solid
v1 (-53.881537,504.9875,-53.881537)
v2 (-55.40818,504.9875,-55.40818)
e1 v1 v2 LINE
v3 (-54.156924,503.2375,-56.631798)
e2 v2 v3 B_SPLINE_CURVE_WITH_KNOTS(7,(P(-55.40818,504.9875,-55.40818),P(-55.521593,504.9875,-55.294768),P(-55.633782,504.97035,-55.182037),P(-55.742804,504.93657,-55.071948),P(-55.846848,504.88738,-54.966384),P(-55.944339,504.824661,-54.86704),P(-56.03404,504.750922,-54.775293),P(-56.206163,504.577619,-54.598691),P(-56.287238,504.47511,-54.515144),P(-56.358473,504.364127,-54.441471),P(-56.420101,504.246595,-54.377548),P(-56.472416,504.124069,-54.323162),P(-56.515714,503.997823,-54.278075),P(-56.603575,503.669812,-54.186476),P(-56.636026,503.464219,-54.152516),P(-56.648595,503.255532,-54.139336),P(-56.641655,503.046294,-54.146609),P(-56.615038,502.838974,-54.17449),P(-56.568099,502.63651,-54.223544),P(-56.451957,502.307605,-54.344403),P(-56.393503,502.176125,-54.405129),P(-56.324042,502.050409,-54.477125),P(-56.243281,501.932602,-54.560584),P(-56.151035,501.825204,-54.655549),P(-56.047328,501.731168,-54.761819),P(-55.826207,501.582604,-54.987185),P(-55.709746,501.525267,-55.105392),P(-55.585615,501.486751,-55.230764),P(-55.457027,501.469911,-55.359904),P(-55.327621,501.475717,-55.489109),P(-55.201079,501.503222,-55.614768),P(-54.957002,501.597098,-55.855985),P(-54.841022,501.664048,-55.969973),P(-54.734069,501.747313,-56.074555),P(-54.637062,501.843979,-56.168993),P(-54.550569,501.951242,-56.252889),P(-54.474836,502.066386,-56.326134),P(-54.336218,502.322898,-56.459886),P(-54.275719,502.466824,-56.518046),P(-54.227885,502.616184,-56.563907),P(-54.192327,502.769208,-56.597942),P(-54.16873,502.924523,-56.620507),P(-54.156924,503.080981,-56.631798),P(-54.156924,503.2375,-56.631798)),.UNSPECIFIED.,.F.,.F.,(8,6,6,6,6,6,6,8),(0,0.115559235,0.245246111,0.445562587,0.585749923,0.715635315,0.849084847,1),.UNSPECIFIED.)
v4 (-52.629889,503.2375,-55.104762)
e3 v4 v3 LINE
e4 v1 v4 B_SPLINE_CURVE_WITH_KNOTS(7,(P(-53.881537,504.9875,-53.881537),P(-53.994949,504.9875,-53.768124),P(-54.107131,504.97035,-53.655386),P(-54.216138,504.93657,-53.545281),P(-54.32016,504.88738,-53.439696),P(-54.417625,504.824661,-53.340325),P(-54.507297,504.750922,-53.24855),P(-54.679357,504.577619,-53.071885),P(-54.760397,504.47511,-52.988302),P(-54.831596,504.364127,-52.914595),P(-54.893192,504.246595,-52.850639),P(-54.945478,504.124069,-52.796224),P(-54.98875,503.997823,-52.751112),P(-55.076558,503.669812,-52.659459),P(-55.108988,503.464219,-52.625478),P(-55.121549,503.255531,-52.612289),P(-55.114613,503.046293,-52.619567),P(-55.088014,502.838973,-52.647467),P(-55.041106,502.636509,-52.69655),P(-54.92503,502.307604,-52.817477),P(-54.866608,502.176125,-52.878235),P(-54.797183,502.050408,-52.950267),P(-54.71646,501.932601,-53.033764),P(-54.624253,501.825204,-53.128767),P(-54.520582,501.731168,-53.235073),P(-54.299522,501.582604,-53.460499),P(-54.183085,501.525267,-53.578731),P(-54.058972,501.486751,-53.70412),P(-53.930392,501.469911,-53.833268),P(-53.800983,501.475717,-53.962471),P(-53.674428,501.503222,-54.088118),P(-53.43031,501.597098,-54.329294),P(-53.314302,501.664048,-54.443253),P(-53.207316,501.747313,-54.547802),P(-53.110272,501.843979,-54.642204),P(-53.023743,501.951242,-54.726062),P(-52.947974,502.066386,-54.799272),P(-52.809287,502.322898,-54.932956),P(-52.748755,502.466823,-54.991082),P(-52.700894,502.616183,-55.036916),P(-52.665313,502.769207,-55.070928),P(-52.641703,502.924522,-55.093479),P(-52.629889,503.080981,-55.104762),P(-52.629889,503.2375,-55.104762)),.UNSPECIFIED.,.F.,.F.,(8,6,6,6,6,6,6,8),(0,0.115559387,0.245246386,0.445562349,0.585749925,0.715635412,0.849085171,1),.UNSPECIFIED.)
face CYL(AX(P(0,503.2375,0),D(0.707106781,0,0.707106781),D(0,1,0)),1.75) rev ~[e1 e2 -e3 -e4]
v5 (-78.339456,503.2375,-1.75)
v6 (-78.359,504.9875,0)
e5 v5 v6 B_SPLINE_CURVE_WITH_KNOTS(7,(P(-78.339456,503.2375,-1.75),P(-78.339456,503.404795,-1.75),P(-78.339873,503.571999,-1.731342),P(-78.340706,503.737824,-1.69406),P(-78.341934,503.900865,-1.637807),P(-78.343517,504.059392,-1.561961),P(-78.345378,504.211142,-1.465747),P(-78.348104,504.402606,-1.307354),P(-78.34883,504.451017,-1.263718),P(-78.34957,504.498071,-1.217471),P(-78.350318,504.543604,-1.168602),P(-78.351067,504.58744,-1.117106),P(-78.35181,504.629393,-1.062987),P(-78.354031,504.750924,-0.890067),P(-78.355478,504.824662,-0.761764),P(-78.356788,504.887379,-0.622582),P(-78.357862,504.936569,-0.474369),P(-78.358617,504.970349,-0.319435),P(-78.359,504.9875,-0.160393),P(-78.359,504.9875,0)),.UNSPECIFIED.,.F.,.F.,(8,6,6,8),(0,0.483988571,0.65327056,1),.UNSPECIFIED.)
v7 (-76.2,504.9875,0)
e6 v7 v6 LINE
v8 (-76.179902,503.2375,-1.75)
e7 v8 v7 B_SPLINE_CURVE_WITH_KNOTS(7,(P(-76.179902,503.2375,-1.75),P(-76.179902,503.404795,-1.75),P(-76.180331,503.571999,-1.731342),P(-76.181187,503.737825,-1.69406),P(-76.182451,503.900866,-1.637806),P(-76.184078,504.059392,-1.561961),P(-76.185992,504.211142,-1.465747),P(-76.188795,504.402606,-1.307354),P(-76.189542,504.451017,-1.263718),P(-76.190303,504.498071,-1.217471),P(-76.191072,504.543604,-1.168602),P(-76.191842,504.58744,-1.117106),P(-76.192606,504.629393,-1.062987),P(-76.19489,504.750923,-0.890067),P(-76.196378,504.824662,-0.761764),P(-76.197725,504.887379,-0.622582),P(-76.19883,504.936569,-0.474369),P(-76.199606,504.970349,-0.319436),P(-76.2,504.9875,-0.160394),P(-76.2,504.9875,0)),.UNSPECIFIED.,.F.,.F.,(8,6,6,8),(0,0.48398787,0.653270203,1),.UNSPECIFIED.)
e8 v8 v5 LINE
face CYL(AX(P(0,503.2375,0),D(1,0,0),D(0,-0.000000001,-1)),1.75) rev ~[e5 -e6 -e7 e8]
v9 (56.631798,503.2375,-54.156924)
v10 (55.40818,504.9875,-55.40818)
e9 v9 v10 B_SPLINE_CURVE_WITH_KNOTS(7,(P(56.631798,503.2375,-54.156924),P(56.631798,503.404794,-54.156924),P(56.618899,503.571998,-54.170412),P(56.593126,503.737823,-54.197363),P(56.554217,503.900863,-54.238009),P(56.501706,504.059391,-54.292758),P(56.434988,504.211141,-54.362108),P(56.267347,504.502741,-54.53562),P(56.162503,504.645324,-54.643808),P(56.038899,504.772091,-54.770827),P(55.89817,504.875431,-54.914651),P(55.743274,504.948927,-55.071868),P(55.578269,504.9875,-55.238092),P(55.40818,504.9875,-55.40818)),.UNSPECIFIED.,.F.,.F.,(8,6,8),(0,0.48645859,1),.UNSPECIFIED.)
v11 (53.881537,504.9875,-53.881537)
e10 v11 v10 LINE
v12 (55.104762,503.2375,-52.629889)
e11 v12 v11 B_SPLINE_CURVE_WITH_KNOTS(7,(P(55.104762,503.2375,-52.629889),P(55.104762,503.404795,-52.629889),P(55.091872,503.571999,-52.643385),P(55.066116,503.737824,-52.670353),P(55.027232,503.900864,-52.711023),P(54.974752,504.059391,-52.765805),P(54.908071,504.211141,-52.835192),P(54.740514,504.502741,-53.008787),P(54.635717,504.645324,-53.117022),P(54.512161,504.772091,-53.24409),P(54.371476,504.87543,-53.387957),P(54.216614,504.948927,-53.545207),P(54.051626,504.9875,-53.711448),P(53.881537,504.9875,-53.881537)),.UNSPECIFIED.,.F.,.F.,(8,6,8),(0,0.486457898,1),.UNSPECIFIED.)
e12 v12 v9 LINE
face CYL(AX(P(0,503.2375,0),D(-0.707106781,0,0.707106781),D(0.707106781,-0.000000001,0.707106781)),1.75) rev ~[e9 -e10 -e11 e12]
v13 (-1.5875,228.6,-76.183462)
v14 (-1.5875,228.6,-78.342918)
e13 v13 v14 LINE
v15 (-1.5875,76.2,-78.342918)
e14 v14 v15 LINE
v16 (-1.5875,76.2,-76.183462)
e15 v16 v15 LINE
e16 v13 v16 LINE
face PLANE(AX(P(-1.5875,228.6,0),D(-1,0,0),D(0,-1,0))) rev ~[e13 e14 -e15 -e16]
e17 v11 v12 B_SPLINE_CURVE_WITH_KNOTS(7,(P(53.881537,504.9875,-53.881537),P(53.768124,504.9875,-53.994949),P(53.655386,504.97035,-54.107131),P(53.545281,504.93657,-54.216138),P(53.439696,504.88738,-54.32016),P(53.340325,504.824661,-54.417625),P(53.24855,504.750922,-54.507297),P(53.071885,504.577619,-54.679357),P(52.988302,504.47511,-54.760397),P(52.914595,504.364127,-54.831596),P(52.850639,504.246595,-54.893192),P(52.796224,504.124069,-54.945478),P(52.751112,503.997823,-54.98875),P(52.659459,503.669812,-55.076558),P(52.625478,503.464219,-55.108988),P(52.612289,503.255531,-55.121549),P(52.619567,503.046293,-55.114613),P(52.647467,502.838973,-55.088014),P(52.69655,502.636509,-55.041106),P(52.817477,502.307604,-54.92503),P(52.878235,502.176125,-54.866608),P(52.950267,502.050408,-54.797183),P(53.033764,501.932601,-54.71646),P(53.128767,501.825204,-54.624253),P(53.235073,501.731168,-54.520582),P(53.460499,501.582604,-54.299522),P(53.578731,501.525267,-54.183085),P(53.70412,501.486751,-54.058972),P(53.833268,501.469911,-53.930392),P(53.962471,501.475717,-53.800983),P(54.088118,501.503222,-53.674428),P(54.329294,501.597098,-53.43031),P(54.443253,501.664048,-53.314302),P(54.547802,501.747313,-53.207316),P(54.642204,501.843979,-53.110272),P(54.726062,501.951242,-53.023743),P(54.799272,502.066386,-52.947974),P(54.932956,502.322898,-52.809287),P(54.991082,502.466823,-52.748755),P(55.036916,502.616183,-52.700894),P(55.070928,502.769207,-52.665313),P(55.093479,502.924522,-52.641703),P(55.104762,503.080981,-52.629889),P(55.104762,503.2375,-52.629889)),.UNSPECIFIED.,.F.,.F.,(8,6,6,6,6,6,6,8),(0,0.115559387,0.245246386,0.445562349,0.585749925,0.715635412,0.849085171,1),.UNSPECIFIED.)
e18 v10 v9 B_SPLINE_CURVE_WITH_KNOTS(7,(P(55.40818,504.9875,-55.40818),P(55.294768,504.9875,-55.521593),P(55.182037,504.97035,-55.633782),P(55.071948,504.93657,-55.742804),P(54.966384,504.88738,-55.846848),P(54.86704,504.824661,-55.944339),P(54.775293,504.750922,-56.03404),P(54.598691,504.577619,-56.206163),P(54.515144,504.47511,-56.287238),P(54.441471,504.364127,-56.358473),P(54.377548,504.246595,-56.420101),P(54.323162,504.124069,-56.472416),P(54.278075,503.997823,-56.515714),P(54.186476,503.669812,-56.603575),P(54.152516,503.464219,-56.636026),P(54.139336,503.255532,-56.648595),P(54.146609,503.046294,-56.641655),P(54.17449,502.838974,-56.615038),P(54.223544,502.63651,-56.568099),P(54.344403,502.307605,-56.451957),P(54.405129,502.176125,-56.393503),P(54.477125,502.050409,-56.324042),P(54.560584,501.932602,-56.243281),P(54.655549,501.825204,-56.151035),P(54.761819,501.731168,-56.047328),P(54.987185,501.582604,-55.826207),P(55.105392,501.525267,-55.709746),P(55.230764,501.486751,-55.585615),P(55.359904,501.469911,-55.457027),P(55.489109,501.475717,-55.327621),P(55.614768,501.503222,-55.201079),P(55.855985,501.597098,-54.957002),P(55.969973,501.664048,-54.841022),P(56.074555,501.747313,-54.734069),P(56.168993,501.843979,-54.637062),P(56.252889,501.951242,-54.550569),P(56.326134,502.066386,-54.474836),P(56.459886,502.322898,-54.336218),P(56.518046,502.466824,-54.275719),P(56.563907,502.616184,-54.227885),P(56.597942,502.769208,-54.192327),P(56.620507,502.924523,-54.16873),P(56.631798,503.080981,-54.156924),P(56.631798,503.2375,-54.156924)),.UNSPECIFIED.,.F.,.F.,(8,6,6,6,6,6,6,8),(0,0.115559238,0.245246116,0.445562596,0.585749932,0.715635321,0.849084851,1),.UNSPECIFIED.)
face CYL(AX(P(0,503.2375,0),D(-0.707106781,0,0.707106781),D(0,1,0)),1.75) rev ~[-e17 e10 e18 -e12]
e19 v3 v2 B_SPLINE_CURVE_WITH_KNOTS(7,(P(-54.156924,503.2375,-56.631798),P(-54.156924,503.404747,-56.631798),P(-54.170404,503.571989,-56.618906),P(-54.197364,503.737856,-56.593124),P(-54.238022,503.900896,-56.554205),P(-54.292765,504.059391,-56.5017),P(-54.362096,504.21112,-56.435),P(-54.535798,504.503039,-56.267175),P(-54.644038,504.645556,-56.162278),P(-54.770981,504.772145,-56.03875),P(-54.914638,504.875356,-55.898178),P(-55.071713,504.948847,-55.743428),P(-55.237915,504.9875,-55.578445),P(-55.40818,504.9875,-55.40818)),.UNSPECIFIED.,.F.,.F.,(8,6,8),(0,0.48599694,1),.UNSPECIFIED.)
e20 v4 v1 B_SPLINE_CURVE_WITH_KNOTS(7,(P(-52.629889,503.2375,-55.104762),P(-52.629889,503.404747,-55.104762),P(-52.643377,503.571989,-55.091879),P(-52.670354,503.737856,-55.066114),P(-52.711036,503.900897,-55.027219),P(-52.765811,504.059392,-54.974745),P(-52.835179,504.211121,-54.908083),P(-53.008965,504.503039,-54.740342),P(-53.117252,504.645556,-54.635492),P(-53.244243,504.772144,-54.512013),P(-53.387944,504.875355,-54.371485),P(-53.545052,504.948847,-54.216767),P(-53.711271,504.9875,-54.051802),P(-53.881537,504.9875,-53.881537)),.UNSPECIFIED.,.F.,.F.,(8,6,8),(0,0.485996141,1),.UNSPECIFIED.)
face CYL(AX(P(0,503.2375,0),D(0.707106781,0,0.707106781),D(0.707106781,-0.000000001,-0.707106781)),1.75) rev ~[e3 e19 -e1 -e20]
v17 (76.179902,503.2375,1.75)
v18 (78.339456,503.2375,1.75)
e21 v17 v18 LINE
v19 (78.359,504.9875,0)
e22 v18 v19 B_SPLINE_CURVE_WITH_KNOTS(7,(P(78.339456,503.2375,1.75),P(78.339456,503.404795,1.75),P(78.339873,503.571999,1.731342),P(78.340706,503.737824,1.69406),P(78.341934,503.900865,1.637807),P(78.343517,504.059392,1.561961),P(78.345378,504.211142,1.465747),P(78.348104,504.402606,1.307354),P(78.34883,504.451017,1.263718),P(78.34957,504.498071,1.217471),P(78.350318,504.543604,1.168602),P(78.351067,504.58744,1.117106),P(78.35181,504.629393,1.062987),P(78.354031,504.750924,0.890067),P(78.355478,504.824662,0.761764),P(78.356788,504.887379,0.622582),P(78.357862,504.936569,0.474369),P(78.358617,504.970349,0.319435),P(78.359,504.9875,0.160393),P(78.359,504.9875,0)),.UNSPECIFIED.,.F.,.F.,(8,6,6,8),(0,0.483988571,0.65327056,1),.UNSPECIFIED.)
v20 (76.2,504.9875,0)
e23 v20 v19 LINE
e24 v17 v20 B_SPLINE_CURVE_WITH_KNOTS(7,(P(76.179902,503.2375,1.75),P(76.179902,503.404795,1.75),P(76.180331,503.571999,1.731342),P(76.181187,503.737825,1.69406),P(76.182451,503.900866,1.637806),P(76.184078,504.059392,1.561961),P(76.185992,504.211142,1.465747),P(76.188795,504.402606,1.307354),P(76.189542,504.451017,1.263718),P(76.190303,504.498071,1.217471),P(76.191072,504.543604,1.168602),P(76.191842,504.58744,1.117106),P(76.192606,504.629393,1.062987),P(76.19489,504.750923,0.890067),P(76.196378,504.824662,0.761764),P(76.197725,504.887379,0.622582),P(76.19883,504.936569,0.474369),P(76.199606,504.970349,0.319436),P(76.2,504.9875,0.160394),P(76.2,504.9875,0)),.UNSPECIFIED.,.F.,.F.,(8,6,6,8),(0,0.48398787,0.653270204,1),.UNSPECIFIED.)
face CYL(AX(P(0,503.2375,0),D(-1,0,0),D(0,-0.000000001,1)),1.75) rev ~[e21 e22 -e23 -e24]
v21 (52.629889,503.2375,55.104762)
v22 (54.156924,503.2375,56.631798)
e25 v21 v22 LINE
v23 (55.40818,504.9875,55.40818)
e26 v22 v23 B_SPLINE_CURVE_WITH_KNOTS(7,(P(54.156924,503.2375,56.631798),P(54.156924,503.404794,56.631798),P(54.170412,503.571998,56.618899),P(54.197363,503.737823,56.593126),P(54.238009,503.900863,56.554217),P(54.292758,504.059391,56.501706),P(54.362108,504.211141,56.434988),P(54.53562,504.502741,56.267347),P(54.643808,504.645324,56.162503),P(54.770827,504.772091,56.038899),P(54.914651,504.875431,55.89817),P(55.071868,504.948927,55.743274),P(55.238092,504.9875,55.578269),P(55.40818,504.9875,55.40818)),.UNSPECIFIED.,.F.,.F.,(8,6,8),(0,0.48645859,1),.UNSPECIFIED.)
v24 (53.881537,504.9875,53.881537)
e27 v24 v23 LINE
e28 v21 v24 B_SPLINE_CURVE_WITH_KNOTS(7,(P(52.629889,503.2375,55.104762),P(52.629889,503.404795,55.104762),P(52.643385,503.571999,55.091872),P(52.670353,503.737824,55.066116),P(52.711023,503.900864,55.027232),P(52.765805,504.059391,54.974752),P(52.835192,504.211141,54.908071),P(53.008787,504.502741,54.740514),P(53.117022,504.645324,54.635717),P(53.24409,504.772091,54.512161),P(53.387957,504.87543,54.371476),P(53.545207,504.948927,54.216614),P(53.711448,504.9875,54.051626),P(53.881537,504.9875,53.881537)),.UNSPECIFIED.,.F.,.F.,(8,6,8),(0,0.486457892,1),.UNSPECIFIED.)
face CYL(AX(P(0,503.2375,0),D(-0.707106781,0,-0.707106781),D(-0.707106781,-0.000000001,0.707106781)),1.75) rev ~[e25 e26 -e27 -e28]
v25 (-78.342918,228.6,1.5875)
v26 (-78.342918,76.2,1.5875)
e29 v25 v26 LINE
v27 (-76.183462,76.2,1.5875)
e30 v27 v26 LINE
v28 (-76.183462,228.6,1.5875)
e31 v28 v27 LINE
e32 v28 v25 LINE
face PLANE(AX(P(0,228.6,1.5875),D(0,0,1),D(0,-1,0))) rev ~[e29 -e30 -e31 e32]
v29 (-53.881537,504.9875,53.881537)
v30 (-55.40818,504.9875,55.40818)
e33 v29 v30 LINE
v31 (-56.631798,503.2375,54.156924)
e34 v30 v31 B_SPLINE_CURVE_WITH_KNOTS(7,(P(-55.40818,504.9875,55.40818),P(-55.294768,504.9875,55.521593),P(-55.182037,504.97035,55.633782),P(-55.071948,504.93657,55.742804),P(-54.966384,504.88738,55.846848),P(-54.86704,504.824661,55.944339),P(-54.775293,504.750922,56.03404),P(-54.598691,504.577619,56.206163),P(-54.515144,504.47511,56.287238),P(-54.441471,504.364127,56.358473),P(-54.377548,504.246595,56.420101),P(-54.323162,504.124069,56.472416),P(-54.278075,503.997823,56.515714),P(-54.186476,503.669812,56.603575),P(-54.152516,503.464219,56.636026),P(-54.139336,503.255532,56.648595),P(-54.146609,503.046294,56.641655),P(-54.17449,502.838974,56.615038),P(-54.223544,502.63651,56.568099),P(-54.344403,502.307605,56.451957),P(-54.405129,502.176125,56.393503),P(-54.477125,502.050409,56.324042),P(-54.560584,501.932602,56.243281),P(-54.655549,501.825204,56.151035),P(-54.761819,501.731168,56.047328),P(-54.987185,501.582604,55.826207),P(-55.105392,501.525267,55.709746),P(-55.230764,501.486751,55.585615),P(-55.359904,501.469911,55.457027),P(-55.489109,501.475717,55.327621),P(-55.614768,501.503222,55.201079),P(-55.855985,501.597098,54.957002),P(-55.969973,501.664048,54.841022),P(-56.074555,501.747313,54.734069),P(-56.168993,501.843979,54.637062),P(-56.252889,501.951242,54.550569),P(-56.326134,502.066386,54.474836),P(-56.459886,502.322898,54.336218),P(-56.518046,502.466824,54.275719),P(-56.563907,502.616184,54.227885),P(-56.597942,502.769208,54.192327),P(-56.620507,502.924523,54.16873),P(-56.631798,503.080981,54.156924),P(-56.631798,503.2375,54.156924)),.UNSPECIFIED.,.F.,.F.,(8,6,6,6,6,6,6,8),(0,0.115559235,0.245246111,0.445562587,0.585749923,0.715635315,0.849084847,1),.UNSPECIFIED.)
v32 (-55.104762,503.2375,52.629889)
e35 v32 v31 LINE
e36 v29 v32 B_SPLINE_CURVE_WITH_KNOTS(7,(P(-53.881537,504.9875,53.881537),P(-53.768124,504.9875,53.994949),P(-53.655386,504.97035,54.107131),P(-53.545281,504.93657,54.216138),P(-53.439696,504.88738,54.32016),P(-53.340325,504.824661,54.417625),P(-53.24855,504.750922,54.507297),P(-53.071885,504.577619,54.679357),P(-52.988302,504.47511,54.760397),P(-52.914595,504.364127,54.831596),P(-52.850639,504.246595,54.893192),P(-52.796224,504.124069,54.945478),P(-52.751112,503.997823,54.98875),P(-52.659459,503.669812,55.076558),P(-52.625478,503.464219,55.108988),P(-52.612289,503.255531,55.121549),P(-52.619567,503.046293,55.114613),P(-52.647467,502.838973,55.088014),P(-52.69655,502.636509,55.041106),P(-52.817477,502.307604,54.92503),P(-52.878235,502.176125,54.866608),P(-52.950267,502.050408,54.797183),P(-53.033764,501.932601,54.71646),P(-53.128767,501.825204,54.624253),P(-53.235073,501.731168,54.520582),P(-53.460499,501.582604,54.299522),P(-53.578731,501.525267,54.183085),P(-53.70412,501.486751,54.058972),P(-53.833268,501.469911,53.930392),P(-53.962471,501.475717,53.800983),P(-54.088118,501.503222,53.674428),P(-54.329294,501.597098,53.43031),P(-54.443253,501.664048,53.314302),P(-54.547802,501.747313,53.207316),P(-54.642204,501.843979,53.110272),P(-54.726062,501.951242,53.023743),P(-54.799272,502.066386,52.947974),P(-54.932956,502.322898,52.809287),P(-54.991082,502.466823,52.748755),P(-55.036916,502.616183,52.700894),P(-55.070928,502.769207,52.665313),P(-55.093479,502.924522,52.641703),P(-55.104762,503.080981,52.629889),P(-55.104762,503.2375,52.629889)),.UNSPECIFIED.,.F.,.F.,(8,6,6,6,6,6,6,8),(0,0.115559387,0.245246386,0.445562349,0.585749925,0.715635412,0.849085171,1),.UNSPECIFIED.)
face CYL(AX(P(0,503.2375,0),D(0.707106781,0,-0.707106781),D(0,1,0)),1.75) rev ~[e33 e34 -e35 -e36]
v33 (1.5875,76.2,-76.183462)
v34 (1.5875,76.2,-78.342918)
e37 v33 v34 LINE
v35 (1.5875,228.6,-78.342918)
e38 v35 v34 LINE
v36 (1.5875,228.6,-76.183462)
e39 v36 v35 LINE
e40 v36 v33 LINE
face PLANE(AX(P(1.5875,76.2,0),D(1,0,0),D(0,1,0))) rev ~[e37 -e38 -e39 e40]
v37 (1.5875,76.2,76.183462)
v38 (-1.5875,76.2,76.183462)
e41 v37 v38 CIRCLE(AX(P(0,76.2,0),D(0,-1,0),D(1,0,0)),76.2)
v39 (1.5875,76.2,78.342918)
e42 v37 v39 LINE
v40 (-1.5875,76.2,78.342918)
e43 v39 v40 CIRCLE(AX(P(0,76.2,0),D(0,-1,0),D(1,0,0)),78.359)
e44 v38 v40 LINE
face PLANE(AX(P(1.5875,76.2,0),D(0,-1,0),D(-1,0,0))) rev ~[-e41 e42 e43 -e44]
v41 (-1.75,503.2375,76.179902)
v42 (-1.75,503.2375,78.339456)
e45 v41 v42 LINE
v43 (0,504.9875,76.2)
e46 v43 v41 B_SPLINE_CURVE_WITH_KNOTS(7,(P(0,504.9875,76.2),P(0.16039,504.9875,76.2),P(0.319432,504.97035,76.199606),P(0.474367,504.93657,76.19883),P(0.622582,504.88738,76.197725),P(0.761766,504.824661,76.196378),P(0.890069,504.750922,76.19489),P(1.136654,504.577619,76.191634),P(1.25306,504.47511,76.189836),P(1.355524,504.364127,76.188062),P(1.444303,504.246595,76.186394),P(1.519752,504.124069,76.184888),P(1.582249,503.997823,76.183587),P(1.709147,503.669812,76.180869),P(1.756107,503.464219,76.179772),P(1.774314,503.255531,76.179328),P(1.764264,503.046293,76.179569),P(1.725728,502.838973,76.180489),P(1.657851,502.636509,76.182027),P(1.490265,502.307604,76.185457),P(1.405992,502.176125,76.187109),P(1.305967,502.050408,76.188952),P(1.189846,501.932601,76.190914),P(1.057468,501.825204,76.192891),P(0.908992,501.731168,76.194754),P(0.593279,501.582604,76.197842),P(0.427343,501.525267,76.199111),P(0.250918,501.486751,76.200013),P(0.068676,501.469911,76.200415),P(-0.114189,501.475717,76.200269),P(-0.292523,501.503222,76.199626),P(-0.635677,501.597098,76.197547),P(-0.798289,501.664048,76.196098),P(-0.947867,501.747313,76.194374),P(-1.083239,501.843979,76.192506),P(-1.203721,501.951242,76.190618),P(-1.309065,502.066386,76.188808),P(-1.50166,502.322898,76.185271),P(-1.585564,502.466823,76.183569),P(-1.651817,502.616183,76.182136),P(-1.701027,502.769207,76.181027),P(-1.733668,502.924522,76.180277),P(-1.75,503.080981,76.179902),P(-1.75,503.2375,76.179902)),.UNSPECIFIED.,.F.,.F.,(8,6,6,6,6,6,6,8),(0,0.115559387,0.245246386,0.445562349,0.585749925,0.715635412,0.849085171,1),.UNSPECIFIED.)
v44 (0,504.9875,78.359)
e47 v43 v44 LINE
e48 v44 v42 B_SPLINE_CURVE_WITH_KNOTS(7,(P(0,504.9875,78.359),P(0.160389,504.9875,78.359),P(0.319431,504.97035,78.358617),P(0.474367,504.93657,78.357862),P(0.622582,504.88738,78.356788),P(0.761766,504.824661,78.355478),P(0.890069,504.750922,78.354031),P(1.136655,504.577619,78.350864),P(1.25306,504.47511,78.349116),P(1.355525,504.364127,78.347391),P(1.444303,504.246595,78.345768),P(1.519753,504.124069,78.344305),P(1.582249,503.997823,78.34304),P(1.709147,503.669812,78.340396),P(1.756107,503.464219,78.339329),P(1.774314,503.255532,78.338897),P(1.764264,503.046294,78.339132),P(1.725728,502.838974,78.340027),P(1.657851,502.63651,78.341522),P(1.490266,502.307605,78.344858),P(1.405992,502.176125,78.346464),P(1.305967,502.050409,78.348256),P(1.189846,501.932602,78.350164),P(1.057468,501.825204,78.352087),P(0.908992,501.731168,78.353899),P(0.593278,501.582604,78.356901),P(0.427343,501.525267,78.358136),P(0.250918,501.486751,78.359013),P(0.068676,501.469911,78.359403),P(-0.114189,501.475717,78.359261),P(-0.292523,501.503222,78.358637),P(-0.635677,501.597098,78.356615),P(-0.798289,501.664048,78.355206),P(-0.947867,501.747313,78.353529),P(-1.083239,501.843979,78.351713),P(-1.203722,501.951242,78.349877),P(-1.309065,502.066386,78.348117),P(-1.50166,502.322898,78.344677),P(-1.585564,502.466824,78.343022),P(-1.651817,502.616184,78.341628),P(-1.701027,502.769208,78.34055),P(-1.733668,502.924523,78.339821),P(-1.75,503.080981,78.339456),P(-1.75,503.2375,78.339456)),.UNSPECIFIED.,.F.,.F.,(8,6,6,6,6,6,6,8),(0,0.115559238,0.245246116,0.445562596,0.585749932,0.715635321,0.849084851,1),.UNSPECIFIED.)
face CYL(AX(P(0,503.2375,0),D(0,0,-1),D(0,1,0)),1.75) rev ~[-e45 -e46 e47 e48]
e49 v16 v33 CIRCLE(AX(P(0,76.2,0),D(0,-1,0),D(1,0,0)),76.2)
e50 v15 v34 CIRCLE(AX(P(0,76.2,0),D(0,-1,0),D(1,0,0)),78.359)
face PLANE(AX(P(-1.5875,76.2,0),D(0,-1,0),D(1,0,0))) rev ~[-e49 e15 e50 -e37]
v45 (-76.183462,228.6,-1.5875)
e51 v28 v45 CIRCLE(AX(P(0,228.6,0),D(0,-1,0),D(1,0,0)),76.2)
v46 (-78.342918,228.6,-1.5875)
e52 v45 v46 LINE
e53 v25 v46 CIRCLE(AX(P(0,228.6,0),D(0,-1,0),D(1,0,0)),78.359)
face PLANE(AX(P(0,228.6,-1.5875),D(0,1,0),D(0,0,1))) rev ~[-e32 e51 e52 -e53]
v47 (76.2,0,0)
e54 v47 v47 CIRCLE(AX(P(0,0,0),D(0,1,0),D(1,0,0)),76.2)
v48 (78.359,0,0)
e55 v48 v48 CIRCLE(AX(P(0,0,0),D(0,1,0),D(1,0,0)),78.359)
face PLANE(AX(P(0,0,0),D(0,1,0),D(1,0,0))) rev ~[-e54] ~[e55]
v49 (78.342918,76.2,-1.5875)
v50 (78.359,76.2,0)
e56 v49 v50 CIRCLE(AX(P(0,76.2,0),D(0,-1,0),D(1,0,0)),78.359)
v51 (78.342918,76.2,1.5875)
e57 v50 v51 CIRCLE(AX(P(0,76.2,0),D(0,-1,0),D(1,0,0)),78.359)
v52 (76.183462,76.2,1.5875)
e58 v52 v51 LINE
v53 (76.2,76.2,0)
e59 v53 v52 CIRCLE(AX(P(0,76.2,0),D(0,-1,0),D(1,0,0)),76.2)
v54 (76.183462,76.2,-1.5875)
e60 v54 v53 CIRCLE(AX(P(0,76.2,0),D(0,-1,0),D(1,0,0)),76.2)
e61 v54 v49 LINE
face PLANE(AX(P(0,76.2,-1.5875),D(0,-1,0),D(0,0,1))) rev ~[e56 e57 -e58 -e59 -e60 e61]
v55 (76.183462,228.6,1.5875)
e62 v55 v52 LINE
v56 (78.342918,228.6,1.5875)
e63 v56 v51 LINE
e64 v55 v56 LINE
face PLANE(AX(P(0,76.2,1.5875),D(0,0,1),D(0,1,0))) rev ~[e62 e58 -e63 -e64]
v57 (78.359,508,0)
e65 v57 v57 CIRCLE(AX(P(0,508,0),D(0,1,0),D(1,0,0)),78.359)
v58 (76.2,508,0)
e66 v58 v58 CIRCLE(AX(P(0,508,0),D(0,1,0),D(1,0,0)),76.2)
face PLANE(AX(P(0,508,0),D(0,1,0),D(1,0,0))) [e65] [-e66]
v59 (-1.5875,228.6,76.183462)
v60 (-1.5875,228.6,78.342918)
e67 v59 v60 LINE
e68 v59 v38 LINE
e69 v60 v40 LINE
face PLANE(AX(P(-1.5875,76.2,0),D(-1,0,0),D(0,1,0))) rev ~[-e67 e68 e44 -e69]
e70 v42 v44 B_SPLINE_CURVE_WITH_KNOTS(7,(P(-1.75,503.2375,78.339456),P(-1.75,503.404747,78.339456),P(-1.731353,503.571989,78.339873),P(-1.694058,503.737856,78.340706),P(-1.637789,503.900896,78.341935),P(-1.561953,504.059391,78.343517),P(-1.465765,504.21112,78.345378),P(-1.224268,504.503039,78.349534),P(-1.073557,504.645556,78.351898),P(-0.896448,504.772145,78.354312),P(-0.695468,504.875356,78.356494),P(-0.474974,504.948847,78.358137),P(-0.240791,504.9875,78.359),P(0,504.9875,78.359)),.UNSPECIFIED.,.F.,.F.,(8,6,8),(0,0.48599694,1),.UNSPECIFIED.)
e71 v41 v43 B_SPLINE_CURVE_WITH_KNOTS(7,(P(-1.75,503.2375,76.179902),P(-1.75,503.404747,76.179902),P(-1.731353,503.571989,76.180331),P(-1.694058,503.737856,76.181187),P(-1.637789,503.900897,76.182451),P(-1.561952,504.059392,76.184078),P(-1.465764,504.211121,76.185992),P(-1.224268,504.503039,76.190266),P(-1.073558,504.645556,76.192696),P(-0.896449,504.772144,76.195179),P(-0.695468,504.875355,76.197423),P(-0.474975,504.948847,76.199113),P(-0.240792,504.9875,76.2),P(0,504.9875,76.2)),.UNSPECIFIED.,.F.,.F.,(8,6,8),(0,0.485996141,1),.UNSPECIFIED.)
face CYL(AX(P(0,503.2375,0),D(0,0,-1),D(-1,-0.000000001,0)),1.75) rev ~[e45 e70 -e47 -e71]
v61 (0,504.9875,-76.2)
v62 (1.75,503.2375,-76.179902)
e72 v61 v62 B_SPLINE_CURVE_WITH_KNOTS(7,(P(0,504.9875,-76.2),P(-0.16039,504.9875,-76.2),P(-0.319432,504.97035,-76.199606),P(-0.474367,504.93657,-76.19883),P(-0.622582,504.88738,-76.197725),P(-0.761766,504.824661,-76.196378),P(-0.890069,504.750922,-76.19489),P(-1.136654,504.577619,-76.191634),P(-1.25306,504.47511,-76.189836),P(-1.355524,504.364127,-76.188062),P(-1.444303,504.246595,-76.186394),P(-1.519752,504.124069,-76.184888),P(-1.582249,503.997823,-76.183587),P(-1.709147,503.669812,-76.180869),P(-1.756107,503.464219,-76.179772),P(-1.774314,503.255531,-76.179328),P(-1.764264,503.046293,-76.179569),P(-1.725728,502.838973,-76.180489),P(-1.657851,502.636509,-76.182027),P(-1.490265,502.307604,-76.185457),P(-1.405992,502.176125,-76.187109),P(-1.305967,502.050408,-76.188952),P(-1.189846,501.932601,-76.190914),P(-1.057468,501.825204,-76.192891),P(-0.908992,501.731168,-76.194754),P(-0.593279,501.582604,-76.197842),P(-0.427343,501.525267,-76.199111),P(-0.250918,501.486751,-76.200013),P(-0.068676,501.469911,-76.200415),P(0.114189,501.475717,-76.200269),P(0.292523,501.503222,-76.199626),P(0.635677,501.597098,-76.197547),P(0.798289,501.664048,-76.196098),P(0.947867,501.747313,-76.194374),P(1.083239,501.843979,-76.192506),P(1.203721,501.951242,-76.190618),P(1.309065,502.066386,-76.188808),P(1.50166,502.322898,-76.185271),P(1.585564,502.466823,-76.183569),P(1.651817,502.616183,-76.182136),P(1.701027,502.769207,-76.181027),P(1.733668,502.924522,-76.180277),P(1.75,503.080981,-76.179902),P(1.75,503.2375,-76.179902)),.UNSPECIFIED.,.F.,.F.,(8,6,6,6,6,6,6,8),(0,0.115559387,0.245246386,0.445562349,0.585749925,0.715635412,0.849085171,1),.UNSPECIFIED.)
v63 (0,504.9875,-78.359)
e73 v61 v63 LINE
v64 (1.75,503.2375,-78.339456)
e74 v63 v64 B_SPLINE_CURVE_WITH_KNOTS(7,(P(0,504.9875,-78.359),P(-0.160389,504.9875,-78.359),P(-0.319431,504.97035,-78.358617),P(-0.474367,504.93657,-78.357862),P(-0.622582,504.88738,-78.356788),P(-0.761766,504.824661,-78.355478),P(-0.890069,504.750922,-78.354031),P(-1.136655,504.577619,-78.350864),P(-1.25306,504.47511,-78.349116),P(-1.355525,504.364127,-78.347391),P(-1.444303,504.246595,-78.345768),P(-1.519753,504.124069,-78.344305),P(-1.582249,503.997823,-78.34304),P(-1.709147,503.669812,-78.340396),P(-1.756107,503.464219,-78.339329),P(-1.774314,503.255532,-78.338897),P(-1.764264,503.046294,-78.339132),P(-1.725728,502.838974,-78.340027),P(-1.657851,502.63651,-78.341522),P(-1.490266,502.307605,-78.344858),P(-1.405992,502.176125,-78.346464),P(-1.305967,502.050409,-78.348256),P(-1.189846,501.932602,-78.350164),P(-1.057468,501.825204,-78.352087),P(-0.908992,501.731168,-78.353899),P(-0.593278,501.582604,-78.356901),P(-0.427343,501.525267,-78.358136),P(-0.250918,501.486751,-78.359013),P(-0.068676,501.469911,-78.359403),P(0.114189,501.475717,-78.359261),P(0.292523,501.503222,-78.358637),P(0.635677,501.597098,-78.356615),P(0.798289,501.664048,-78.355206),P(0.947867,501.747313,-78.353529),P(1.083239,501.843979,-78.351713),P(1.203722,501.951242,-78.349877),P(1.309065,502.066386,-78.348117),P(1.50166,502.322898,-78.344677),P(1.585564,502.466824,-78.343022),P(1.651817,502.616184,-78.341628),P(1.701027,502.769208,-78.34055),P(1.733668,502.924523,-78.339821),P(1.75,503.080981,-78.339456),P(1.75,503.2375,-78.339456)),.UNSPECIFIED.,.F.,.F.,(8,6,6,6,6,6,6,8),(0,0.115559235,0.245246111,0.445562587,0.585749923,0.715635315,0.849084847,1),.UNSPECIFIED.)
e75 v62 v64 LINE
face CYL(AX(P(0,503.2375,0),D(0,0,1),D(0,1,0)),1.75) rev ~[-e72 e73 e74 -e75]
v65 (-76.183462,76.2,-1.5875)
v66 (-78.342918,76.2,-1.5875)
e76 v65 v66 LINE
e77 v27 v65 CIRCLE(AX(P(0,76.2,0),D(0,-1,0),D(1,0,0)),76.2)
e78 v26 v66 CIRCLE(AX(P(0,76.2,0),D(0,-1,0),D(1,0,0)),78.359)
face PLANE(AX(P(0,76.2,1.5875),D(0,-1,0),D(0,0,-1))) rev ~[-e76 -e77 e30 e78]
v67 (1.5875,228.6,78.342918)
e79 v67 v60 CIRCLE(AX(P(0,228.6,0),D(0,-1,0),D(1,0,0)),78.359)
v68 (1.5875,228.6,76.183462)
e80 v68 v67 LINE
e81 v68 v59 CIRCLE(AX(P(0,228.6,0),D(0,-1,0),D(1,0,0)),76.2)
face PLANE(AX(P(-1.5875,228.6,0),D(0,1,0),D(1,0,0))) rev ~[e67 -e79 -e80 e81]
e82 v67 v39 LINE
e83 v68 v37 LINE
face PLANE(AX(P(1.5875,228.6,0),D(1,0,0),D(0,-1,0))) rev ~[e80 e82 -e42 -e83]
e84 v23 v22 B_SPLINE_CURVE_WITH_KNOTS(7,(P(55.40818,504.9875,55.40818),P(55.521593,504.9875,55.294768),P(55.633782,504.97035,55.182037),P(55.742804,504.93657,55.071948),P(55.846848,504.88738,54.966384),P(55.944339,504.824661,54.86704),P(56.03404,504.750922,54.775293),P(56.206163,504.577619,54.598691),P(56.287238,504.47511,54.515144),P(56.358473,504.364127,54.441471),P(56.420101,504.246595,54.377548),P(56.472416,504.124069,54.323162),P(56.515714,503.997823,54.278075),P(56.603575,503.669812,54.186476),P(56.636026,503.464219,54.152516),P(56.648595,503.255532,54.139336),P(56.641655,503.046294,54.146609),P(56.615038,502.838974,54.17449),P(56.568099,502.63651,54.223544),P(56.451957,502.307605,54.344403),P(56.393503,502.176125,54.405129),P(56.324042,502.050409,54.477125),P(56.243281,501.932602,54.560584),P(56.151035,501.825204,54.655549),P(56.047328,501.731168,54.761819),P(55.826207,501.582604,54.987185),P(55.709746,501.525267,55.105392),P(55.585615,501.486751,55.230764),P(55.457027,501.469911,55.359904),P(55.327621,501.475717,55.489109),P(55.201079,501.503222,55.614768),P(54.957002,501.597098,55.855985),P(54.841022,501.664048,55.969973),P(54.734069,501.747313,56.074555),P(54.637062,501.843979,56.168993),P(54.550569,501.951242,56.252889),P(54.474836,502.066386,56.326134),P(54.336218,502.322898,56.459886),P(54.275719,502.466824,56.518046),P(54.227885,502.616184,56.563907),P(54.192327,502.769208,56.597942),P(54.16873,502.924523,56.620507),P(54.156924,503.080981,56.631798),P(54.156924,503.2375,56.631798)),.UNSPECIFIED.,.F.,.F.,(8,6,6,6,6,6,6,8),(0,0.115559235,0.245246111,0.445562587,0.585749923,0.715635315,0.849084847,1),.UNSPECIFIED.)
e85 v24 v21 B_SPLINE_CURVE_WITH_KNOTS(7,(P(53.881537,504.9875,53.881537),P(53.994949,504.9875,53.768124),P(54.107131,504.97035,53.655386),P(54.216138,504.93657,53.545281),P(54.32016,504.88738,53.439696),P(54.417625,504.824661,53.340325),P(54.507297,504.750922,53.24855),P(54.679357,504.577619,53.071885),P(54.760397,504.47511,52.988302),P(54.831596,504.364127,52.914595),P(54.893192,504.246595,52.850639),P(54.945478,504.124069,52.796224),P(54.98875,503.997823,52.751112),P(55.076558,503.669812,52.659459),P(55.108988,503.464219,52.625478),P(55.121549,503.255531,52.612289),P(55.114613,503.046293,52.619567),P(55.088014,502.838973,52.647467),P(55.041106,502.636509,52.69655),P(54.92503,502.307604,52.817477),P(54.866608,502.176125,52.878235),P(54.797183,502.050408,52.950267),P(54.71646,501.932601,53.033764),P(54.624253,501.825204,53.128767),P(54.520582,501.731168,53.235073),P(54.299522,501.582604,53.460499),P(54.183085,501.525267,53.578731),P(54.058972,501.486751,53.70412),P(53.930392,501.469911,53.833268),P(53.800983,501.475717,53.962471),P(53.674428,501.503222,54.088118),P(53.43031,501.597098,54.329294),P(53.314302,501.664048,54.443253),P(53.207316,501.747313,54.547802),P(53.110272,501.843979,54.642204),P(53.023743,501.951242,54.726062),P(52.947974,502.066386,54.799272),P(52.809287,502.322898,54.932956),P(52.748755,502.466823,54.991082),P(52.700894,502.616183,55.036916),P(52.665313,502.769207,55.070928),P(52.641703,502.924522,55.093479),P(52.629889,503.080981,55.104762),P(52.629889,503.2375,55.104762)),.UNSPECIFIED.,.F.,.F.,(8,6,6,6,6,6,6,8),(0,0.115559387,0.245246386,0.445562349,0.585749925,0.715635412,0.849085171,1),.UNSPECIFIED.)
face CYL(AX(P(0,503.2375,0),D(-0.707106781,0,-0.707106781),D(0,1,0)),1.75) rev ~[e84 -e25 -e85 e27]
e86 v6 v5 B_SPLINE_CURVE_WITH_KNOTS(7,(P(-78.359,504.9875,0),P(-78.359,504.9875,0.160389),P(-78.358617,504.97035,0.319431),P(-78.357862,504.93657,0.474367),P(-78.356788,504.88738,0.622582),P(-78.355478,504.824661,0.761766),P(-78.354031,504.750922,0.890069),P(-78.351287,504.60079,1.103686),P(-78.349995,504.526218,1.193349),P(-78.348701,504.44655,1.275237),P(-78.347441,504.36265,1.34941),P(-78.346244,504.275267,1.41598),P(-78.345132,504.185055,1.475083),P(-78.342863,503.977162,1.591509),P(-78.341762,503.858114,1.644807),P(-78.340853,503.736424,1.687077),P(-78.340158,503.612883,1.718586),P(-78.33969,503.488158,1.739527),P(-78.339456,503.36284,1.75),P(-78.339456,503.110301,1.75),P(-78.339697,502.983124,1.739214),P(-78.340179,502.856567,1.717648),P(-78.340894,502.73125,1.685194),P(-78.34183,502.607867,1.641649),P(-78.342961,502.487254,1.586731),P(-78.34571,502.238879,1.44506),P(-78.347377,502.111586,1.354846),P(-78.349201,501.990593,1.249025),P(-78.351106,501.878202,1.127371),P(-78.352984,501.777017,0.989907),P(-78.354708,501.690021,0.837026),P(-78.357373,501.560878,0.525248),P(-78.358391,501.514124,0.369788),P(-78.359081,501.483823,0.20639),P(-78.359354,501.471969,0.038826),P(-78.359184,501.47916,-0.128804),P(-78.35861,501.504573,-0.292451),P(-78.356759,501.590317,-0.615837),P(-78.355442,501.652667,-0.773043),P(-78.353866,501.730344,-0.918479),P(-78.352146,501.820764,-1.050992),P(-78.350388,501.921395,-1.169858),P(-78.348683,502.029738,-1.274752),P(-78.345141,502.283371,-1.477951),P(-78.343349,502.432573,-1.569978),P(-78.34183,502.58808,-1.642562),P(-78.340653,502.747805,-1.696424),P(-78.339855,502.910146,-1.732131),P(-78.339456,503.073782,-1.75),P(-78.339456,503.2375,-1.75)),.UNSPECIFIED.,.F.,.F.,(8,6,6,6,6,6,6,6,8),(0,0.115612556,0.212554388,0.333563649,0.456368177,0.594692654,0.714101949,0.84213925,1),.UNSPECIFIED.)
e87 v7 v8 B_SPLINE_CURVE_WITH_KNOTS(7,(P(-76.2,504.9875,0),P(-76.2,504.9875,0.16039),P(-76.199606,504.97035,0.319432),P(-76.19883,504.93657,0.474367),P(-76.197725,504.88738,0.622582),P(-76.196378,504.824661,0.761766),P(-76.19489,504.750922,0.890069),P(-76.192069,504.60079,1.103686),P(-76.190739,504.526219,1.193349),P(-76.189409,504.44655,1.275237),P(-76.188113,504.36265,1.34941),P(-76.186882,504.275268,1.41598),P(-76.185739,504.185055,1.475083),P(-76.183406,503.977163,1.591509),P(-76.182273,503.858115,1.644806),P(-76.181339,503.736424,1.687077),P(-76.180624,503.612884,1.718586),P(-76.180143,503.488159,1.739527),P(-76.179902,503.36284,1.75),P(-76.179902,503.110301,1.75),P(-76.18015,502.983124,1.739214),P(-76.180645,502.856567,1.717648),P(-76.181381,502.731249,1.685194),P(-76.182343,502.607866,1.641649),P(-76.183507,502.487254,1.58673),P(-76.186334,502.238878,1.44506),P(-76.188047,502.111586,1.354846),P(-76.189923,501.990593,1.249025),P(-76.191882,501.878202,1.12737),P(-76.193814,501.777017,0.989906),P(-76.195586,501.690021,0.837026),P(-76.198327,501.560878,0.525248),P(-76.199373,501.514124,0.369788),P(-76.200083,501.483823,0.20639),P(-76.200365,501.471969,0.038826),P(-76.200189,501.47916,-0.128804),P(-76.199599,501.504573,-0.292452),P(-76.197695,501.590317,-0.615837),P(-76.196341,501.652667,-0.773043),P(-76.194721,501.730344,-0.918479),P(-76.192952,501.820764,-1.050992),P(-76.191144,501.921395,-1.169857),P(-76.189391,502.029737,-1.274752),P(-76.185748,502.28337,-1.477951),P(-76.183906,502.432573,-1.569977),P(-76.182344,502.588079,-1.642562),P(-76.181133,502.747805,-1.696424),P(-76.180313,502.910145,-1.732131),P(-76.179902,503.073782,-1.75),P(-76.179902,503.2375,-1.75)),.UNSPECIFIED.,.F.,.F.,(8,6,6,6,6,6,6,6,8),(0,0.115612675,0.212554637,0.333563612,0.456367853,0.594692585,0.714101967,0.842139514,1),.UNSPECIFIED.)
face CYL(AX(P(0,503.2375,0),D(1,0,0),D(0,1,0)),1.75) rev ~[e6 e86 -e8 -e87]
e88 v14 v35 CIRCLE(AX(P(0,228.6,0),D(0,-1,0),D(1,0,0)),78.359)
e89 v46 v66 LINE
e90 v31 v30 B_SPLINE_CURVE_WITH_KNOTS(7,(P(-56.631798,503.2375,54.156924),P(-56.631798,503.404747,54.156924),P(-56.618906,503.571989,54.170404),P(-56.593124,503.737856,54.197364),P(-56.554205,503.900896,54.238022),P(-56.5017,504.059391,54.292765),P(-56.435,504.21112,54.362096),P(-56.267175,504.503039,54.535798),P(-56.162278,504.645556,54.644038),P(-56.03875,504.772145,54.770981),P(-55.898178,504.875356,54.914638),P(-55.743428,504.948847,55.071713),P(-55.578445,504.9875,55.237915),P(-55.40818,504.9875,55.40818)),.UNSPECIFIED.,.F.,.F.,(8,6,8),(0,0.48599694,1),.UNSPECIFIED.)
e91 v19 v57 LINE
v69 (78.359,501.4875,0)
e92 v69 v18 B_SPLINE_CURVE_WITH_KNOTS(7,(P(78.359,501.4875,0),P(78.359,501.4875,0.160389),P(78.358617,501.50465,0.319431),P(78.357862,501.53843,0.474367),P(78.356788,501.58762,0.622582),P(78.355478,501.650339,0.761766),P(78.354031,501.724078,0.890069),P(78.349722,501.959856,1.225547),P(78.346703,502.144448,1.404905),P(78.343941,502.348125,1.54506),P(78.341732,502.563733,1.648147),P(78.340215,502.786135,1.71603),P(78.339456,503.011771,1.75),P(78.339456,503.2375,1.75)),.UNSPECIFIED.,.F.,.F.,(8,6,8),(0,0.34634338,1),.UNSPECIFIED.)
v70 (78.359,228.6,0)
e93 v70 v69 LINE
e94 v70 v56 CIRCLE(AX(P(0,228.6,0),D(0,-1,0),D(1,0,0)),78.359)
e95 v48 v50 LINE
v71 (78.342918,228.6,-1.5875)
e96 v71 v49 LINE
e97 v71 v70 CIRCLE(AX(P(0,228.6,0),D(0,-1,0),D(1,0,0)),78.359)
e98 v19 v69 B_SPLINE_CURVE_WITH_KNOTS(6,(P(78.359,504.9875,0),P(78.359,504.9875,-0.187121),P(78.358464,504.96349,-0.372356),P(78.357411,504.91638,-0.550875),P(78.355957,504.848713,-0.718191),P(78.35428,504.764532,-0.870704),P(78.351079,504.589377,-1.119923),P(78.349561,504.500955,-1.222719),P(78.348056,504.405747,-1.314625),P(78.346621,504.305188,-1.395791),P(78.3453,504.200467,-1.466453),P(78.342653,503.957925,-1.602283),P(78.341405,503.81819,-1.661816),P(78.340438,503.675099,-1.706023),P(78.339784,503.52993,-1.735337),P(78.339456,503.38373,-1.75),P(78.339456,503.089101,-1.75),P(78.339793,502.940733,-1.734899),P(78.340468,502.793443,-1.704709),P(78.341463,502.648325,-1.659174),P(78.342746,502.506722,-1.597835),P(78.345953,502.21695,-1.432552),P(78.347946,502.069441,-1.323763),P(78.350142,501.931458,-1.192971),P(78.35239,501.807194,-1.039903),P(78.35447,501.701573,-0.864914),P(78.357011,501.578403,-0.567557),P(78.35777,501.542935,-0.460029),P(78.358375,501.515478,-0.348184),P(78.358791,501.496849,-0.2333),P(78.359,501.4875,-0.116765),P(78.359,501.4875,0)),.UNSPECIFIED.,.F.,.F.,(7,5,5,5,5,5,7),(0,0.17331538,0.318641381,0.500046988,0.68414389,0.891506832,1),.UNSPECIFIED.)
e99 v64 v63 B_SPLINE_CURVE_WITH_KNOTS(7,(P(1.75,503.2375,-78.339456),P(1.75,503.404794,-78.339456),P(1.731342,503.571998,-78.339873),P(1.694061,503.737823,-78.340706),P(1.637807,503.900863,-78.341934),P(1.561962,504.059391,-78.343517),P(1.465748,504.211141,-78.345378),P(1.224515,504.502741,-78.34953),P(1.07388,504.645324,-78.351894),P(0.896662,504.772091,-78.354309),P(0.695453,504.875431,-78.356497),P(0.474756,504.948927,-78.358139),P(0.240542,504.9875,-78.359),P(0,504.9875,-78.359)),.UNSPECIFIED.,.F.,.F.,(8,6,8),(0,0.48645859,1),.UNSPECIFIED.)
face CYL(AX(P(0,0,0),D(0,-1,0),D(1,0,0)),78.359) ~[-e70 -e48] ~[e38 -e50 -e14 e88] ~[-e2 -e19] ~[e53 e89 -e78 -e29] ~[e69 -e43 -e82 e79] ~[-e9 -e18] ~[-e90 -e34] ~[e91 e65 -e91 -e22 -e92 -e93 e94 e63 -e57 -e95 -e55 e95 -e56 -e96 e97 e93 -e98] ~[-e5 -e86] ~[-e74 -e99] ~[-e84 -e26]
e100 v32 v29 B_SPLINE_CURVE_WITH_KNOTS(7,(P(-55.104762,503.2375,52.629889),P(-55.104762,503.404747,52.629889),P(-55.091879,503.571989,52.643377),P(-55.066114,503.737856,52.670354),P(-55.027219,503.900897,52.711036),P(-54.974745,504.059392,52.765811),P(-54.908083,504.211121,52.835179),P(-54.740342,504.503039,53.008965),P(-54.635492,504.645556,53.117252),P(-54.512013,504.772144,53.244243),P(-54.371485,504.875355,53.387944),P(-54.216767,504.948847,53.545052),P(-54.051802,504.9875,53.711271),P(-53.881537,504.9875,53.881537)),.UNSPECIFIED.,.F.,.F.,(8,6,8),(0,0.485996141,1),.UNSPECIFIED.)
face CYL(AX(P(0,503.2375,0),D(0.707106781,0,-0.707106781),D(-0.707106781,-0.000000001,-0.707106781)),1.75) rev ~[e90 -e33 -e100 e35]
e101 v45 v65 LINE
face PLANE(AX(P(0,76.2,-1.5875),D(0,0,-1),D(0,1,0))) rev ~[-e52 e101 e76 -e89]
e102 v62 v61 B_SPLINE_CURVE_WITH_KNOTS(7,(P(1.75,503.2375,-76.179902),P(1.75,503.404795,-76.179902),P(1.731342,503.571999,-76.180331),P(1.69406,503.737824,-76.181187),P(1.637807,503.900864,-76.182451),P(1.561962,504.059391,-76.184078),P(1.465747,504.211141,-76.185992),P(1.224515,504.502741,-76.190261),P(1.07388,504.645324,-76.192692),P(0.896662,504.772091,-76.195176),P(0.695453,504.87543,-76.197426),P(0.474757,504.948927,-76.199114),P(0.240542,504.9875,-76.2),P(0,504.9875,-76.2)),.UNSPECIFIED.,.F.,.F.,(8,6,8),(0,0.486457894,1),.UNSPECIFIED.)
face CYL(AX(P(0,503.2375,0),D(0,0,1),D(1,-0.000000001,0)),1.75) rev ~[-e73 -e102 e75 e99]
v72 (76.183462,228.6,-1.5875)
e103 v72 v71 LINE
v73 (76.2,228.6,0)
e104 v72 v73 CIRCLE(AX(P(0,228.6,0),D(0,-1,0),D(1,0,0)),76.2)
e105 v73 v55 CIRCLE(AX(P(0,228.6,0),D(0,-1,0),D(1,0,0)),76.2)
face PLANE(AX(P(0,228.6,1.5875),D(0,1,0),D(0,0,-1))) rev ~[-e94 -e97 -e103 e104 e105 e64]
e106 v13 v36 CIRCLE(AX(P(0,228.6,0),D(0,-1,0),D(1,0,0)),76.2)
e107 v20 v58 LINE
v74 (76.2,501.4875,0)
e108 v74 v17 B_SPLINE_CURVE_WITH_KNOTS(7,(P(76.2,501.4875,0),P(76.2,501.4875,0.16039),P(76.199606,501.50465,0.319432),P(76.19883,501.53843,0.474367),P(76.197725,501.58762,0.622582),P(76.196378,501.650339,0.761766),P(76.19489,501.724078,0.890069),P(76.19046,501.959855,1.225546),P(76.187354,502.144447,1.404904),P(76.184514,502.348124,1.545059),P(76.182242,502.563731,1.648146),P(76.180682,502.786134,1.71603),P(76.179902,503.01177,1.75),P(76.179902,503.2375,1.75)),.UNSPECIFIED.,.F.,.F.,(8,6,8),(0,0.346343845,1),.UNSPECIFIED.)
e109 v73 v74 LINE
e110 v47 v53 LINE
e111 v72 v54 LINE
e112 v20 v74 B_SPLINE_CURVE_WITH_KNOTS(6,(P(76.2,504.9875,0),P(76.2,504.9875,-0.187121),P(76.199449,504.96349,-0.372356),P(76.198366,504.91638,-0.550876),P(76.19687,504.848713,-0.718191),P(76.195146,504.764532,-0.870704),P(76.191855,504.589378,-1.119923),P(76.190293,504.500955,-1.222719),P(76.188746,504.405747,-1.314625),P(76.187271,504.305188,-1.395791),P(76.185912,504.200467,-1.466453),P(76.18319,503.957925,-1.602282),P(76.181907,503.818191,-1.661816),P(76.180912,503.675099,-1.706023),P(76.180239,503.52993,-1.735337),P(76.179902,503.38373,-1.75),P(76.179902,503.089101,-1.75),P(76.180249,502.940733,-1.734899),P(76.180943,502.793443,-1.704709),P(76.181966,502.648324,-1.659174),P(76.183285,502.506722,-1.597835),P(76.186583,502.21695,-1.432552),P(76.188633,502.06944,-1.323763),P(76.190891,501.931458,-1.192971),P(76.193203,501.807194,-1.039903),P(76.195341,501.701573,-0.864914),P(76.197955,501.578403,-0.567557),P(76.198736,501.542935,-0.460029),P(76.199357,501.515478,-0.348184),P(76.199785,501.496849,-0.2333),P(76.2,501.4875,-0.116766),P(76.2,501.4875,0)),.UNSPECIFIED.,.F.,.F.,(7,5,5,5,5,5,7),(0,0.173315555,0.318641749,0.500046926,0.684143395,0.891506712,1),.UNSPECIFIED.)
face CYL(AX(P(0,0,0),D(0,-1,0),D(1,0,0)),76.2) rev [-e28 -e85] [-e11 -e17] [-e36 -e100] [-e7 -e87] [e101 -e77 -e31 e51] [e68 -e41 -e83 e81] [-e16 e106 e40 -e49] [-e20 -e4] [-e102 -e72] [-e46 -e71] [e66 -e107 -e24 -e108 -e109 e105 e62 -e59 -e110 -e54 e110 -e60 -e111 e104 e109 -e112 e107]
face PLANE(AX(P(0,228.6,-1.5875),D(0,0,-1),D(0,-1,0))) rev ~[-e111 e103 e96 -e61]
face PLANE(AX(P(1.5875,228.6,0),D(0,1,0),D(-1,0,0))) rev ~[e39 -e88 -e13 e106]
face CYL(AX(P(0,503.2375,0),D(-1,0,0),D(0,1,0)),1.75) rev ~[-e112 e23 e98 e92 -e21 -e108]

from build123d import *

# Parameters (mm, degrees)
SKETCH1_R           = 78.359
SKETCH1_R_2         = 76.2
BOSS_EXTRUDE1_DEPTH = 508
CUT_EXTRUDE1_DEPTH  = 520.946406625
CIRPATTERN1_COUNT   = 4
CUT_EXTRUDE2_DEPTH  = 520.946406625
CIRPATTERN2_COUNT   = 8


with BuildPart() as part:
    # Sketch1 → Boss-Extrude1 (new body)
    with BuildSketch(Plane(origin=(0, 0, 0), x_dir=(1, 0, 0), z_dir=(0, 1, 0))):
        Circle(SKETCH1_R)
        Circle(SKETCH1_R_2, mode=Mode.SUBTRACT)
    extrude(amount=BOSS_EXTRUDE1_DEPTH)

    # Sketch2 → Cut-Extrude1 (cut, through all)
    with BuildSketch(Plane(origin=(0, 0, 0), x_dir=(0, 0, -1), z_dir=(1, 0, 0))):
        Polygon((0, 76.2), (1.5875, 76.2), (1.5875, 228.6), (-1.5875, 228.6), (-1.5875, 76.2), align=None)
    cut_extrude1 = extrude(amount=-CUT_EXTRUDE1_DEPTH, mode=Mode.SUBTRACT)

    # CirPattern1: Cut-Extrude1 ×4 about axis
    cirpattern1_axis = Axis((0, 0, 0), (0, 1, 0))
    for i in range(1, CIRPATTERN1_COUNT):
        add(cut_extrude1.rotate(cirpattern1_axis, i * 360 / CIRPATTERN1_COUNT), mode=Mode.SUBTRACT)

    # Sketch2<3> → Cut-Extrude2 (cut, through all)
    with BuildSketch(Plane(origin=(0, 0, 0), x_dir=(0, 0, -1), z_dir=(1, 0, 0))):
        with BuildLine():
            ThreePointArc((0, 504.987500056), (-1.237436907, 502.000063093), (1.750000056, 503.2375))
            ThreePointArc((1.750000056, 503.2375), (1.237436907, 504.474936907), (0, 504.987500056))
        make_face()
    cut_extrude2 = extrude(amount=-CUT_EXTRUDE2_DEPTH, mode=Mode.SUBTRACT)

    # CirPattern2: Cut-Extrude2 ×8 about axis
    cirpattern2_axis = Axis((0, 508, 0), (0, -1, 0))
    for i in range(1, CIRPATTERN2_COUNT):
        add(cut_extrude2.rotate(cirpattern2_axis, i * 360 / CIRPATTERN2_COUNT), mode=Mode.SUBTRACT)


solid = part.part
